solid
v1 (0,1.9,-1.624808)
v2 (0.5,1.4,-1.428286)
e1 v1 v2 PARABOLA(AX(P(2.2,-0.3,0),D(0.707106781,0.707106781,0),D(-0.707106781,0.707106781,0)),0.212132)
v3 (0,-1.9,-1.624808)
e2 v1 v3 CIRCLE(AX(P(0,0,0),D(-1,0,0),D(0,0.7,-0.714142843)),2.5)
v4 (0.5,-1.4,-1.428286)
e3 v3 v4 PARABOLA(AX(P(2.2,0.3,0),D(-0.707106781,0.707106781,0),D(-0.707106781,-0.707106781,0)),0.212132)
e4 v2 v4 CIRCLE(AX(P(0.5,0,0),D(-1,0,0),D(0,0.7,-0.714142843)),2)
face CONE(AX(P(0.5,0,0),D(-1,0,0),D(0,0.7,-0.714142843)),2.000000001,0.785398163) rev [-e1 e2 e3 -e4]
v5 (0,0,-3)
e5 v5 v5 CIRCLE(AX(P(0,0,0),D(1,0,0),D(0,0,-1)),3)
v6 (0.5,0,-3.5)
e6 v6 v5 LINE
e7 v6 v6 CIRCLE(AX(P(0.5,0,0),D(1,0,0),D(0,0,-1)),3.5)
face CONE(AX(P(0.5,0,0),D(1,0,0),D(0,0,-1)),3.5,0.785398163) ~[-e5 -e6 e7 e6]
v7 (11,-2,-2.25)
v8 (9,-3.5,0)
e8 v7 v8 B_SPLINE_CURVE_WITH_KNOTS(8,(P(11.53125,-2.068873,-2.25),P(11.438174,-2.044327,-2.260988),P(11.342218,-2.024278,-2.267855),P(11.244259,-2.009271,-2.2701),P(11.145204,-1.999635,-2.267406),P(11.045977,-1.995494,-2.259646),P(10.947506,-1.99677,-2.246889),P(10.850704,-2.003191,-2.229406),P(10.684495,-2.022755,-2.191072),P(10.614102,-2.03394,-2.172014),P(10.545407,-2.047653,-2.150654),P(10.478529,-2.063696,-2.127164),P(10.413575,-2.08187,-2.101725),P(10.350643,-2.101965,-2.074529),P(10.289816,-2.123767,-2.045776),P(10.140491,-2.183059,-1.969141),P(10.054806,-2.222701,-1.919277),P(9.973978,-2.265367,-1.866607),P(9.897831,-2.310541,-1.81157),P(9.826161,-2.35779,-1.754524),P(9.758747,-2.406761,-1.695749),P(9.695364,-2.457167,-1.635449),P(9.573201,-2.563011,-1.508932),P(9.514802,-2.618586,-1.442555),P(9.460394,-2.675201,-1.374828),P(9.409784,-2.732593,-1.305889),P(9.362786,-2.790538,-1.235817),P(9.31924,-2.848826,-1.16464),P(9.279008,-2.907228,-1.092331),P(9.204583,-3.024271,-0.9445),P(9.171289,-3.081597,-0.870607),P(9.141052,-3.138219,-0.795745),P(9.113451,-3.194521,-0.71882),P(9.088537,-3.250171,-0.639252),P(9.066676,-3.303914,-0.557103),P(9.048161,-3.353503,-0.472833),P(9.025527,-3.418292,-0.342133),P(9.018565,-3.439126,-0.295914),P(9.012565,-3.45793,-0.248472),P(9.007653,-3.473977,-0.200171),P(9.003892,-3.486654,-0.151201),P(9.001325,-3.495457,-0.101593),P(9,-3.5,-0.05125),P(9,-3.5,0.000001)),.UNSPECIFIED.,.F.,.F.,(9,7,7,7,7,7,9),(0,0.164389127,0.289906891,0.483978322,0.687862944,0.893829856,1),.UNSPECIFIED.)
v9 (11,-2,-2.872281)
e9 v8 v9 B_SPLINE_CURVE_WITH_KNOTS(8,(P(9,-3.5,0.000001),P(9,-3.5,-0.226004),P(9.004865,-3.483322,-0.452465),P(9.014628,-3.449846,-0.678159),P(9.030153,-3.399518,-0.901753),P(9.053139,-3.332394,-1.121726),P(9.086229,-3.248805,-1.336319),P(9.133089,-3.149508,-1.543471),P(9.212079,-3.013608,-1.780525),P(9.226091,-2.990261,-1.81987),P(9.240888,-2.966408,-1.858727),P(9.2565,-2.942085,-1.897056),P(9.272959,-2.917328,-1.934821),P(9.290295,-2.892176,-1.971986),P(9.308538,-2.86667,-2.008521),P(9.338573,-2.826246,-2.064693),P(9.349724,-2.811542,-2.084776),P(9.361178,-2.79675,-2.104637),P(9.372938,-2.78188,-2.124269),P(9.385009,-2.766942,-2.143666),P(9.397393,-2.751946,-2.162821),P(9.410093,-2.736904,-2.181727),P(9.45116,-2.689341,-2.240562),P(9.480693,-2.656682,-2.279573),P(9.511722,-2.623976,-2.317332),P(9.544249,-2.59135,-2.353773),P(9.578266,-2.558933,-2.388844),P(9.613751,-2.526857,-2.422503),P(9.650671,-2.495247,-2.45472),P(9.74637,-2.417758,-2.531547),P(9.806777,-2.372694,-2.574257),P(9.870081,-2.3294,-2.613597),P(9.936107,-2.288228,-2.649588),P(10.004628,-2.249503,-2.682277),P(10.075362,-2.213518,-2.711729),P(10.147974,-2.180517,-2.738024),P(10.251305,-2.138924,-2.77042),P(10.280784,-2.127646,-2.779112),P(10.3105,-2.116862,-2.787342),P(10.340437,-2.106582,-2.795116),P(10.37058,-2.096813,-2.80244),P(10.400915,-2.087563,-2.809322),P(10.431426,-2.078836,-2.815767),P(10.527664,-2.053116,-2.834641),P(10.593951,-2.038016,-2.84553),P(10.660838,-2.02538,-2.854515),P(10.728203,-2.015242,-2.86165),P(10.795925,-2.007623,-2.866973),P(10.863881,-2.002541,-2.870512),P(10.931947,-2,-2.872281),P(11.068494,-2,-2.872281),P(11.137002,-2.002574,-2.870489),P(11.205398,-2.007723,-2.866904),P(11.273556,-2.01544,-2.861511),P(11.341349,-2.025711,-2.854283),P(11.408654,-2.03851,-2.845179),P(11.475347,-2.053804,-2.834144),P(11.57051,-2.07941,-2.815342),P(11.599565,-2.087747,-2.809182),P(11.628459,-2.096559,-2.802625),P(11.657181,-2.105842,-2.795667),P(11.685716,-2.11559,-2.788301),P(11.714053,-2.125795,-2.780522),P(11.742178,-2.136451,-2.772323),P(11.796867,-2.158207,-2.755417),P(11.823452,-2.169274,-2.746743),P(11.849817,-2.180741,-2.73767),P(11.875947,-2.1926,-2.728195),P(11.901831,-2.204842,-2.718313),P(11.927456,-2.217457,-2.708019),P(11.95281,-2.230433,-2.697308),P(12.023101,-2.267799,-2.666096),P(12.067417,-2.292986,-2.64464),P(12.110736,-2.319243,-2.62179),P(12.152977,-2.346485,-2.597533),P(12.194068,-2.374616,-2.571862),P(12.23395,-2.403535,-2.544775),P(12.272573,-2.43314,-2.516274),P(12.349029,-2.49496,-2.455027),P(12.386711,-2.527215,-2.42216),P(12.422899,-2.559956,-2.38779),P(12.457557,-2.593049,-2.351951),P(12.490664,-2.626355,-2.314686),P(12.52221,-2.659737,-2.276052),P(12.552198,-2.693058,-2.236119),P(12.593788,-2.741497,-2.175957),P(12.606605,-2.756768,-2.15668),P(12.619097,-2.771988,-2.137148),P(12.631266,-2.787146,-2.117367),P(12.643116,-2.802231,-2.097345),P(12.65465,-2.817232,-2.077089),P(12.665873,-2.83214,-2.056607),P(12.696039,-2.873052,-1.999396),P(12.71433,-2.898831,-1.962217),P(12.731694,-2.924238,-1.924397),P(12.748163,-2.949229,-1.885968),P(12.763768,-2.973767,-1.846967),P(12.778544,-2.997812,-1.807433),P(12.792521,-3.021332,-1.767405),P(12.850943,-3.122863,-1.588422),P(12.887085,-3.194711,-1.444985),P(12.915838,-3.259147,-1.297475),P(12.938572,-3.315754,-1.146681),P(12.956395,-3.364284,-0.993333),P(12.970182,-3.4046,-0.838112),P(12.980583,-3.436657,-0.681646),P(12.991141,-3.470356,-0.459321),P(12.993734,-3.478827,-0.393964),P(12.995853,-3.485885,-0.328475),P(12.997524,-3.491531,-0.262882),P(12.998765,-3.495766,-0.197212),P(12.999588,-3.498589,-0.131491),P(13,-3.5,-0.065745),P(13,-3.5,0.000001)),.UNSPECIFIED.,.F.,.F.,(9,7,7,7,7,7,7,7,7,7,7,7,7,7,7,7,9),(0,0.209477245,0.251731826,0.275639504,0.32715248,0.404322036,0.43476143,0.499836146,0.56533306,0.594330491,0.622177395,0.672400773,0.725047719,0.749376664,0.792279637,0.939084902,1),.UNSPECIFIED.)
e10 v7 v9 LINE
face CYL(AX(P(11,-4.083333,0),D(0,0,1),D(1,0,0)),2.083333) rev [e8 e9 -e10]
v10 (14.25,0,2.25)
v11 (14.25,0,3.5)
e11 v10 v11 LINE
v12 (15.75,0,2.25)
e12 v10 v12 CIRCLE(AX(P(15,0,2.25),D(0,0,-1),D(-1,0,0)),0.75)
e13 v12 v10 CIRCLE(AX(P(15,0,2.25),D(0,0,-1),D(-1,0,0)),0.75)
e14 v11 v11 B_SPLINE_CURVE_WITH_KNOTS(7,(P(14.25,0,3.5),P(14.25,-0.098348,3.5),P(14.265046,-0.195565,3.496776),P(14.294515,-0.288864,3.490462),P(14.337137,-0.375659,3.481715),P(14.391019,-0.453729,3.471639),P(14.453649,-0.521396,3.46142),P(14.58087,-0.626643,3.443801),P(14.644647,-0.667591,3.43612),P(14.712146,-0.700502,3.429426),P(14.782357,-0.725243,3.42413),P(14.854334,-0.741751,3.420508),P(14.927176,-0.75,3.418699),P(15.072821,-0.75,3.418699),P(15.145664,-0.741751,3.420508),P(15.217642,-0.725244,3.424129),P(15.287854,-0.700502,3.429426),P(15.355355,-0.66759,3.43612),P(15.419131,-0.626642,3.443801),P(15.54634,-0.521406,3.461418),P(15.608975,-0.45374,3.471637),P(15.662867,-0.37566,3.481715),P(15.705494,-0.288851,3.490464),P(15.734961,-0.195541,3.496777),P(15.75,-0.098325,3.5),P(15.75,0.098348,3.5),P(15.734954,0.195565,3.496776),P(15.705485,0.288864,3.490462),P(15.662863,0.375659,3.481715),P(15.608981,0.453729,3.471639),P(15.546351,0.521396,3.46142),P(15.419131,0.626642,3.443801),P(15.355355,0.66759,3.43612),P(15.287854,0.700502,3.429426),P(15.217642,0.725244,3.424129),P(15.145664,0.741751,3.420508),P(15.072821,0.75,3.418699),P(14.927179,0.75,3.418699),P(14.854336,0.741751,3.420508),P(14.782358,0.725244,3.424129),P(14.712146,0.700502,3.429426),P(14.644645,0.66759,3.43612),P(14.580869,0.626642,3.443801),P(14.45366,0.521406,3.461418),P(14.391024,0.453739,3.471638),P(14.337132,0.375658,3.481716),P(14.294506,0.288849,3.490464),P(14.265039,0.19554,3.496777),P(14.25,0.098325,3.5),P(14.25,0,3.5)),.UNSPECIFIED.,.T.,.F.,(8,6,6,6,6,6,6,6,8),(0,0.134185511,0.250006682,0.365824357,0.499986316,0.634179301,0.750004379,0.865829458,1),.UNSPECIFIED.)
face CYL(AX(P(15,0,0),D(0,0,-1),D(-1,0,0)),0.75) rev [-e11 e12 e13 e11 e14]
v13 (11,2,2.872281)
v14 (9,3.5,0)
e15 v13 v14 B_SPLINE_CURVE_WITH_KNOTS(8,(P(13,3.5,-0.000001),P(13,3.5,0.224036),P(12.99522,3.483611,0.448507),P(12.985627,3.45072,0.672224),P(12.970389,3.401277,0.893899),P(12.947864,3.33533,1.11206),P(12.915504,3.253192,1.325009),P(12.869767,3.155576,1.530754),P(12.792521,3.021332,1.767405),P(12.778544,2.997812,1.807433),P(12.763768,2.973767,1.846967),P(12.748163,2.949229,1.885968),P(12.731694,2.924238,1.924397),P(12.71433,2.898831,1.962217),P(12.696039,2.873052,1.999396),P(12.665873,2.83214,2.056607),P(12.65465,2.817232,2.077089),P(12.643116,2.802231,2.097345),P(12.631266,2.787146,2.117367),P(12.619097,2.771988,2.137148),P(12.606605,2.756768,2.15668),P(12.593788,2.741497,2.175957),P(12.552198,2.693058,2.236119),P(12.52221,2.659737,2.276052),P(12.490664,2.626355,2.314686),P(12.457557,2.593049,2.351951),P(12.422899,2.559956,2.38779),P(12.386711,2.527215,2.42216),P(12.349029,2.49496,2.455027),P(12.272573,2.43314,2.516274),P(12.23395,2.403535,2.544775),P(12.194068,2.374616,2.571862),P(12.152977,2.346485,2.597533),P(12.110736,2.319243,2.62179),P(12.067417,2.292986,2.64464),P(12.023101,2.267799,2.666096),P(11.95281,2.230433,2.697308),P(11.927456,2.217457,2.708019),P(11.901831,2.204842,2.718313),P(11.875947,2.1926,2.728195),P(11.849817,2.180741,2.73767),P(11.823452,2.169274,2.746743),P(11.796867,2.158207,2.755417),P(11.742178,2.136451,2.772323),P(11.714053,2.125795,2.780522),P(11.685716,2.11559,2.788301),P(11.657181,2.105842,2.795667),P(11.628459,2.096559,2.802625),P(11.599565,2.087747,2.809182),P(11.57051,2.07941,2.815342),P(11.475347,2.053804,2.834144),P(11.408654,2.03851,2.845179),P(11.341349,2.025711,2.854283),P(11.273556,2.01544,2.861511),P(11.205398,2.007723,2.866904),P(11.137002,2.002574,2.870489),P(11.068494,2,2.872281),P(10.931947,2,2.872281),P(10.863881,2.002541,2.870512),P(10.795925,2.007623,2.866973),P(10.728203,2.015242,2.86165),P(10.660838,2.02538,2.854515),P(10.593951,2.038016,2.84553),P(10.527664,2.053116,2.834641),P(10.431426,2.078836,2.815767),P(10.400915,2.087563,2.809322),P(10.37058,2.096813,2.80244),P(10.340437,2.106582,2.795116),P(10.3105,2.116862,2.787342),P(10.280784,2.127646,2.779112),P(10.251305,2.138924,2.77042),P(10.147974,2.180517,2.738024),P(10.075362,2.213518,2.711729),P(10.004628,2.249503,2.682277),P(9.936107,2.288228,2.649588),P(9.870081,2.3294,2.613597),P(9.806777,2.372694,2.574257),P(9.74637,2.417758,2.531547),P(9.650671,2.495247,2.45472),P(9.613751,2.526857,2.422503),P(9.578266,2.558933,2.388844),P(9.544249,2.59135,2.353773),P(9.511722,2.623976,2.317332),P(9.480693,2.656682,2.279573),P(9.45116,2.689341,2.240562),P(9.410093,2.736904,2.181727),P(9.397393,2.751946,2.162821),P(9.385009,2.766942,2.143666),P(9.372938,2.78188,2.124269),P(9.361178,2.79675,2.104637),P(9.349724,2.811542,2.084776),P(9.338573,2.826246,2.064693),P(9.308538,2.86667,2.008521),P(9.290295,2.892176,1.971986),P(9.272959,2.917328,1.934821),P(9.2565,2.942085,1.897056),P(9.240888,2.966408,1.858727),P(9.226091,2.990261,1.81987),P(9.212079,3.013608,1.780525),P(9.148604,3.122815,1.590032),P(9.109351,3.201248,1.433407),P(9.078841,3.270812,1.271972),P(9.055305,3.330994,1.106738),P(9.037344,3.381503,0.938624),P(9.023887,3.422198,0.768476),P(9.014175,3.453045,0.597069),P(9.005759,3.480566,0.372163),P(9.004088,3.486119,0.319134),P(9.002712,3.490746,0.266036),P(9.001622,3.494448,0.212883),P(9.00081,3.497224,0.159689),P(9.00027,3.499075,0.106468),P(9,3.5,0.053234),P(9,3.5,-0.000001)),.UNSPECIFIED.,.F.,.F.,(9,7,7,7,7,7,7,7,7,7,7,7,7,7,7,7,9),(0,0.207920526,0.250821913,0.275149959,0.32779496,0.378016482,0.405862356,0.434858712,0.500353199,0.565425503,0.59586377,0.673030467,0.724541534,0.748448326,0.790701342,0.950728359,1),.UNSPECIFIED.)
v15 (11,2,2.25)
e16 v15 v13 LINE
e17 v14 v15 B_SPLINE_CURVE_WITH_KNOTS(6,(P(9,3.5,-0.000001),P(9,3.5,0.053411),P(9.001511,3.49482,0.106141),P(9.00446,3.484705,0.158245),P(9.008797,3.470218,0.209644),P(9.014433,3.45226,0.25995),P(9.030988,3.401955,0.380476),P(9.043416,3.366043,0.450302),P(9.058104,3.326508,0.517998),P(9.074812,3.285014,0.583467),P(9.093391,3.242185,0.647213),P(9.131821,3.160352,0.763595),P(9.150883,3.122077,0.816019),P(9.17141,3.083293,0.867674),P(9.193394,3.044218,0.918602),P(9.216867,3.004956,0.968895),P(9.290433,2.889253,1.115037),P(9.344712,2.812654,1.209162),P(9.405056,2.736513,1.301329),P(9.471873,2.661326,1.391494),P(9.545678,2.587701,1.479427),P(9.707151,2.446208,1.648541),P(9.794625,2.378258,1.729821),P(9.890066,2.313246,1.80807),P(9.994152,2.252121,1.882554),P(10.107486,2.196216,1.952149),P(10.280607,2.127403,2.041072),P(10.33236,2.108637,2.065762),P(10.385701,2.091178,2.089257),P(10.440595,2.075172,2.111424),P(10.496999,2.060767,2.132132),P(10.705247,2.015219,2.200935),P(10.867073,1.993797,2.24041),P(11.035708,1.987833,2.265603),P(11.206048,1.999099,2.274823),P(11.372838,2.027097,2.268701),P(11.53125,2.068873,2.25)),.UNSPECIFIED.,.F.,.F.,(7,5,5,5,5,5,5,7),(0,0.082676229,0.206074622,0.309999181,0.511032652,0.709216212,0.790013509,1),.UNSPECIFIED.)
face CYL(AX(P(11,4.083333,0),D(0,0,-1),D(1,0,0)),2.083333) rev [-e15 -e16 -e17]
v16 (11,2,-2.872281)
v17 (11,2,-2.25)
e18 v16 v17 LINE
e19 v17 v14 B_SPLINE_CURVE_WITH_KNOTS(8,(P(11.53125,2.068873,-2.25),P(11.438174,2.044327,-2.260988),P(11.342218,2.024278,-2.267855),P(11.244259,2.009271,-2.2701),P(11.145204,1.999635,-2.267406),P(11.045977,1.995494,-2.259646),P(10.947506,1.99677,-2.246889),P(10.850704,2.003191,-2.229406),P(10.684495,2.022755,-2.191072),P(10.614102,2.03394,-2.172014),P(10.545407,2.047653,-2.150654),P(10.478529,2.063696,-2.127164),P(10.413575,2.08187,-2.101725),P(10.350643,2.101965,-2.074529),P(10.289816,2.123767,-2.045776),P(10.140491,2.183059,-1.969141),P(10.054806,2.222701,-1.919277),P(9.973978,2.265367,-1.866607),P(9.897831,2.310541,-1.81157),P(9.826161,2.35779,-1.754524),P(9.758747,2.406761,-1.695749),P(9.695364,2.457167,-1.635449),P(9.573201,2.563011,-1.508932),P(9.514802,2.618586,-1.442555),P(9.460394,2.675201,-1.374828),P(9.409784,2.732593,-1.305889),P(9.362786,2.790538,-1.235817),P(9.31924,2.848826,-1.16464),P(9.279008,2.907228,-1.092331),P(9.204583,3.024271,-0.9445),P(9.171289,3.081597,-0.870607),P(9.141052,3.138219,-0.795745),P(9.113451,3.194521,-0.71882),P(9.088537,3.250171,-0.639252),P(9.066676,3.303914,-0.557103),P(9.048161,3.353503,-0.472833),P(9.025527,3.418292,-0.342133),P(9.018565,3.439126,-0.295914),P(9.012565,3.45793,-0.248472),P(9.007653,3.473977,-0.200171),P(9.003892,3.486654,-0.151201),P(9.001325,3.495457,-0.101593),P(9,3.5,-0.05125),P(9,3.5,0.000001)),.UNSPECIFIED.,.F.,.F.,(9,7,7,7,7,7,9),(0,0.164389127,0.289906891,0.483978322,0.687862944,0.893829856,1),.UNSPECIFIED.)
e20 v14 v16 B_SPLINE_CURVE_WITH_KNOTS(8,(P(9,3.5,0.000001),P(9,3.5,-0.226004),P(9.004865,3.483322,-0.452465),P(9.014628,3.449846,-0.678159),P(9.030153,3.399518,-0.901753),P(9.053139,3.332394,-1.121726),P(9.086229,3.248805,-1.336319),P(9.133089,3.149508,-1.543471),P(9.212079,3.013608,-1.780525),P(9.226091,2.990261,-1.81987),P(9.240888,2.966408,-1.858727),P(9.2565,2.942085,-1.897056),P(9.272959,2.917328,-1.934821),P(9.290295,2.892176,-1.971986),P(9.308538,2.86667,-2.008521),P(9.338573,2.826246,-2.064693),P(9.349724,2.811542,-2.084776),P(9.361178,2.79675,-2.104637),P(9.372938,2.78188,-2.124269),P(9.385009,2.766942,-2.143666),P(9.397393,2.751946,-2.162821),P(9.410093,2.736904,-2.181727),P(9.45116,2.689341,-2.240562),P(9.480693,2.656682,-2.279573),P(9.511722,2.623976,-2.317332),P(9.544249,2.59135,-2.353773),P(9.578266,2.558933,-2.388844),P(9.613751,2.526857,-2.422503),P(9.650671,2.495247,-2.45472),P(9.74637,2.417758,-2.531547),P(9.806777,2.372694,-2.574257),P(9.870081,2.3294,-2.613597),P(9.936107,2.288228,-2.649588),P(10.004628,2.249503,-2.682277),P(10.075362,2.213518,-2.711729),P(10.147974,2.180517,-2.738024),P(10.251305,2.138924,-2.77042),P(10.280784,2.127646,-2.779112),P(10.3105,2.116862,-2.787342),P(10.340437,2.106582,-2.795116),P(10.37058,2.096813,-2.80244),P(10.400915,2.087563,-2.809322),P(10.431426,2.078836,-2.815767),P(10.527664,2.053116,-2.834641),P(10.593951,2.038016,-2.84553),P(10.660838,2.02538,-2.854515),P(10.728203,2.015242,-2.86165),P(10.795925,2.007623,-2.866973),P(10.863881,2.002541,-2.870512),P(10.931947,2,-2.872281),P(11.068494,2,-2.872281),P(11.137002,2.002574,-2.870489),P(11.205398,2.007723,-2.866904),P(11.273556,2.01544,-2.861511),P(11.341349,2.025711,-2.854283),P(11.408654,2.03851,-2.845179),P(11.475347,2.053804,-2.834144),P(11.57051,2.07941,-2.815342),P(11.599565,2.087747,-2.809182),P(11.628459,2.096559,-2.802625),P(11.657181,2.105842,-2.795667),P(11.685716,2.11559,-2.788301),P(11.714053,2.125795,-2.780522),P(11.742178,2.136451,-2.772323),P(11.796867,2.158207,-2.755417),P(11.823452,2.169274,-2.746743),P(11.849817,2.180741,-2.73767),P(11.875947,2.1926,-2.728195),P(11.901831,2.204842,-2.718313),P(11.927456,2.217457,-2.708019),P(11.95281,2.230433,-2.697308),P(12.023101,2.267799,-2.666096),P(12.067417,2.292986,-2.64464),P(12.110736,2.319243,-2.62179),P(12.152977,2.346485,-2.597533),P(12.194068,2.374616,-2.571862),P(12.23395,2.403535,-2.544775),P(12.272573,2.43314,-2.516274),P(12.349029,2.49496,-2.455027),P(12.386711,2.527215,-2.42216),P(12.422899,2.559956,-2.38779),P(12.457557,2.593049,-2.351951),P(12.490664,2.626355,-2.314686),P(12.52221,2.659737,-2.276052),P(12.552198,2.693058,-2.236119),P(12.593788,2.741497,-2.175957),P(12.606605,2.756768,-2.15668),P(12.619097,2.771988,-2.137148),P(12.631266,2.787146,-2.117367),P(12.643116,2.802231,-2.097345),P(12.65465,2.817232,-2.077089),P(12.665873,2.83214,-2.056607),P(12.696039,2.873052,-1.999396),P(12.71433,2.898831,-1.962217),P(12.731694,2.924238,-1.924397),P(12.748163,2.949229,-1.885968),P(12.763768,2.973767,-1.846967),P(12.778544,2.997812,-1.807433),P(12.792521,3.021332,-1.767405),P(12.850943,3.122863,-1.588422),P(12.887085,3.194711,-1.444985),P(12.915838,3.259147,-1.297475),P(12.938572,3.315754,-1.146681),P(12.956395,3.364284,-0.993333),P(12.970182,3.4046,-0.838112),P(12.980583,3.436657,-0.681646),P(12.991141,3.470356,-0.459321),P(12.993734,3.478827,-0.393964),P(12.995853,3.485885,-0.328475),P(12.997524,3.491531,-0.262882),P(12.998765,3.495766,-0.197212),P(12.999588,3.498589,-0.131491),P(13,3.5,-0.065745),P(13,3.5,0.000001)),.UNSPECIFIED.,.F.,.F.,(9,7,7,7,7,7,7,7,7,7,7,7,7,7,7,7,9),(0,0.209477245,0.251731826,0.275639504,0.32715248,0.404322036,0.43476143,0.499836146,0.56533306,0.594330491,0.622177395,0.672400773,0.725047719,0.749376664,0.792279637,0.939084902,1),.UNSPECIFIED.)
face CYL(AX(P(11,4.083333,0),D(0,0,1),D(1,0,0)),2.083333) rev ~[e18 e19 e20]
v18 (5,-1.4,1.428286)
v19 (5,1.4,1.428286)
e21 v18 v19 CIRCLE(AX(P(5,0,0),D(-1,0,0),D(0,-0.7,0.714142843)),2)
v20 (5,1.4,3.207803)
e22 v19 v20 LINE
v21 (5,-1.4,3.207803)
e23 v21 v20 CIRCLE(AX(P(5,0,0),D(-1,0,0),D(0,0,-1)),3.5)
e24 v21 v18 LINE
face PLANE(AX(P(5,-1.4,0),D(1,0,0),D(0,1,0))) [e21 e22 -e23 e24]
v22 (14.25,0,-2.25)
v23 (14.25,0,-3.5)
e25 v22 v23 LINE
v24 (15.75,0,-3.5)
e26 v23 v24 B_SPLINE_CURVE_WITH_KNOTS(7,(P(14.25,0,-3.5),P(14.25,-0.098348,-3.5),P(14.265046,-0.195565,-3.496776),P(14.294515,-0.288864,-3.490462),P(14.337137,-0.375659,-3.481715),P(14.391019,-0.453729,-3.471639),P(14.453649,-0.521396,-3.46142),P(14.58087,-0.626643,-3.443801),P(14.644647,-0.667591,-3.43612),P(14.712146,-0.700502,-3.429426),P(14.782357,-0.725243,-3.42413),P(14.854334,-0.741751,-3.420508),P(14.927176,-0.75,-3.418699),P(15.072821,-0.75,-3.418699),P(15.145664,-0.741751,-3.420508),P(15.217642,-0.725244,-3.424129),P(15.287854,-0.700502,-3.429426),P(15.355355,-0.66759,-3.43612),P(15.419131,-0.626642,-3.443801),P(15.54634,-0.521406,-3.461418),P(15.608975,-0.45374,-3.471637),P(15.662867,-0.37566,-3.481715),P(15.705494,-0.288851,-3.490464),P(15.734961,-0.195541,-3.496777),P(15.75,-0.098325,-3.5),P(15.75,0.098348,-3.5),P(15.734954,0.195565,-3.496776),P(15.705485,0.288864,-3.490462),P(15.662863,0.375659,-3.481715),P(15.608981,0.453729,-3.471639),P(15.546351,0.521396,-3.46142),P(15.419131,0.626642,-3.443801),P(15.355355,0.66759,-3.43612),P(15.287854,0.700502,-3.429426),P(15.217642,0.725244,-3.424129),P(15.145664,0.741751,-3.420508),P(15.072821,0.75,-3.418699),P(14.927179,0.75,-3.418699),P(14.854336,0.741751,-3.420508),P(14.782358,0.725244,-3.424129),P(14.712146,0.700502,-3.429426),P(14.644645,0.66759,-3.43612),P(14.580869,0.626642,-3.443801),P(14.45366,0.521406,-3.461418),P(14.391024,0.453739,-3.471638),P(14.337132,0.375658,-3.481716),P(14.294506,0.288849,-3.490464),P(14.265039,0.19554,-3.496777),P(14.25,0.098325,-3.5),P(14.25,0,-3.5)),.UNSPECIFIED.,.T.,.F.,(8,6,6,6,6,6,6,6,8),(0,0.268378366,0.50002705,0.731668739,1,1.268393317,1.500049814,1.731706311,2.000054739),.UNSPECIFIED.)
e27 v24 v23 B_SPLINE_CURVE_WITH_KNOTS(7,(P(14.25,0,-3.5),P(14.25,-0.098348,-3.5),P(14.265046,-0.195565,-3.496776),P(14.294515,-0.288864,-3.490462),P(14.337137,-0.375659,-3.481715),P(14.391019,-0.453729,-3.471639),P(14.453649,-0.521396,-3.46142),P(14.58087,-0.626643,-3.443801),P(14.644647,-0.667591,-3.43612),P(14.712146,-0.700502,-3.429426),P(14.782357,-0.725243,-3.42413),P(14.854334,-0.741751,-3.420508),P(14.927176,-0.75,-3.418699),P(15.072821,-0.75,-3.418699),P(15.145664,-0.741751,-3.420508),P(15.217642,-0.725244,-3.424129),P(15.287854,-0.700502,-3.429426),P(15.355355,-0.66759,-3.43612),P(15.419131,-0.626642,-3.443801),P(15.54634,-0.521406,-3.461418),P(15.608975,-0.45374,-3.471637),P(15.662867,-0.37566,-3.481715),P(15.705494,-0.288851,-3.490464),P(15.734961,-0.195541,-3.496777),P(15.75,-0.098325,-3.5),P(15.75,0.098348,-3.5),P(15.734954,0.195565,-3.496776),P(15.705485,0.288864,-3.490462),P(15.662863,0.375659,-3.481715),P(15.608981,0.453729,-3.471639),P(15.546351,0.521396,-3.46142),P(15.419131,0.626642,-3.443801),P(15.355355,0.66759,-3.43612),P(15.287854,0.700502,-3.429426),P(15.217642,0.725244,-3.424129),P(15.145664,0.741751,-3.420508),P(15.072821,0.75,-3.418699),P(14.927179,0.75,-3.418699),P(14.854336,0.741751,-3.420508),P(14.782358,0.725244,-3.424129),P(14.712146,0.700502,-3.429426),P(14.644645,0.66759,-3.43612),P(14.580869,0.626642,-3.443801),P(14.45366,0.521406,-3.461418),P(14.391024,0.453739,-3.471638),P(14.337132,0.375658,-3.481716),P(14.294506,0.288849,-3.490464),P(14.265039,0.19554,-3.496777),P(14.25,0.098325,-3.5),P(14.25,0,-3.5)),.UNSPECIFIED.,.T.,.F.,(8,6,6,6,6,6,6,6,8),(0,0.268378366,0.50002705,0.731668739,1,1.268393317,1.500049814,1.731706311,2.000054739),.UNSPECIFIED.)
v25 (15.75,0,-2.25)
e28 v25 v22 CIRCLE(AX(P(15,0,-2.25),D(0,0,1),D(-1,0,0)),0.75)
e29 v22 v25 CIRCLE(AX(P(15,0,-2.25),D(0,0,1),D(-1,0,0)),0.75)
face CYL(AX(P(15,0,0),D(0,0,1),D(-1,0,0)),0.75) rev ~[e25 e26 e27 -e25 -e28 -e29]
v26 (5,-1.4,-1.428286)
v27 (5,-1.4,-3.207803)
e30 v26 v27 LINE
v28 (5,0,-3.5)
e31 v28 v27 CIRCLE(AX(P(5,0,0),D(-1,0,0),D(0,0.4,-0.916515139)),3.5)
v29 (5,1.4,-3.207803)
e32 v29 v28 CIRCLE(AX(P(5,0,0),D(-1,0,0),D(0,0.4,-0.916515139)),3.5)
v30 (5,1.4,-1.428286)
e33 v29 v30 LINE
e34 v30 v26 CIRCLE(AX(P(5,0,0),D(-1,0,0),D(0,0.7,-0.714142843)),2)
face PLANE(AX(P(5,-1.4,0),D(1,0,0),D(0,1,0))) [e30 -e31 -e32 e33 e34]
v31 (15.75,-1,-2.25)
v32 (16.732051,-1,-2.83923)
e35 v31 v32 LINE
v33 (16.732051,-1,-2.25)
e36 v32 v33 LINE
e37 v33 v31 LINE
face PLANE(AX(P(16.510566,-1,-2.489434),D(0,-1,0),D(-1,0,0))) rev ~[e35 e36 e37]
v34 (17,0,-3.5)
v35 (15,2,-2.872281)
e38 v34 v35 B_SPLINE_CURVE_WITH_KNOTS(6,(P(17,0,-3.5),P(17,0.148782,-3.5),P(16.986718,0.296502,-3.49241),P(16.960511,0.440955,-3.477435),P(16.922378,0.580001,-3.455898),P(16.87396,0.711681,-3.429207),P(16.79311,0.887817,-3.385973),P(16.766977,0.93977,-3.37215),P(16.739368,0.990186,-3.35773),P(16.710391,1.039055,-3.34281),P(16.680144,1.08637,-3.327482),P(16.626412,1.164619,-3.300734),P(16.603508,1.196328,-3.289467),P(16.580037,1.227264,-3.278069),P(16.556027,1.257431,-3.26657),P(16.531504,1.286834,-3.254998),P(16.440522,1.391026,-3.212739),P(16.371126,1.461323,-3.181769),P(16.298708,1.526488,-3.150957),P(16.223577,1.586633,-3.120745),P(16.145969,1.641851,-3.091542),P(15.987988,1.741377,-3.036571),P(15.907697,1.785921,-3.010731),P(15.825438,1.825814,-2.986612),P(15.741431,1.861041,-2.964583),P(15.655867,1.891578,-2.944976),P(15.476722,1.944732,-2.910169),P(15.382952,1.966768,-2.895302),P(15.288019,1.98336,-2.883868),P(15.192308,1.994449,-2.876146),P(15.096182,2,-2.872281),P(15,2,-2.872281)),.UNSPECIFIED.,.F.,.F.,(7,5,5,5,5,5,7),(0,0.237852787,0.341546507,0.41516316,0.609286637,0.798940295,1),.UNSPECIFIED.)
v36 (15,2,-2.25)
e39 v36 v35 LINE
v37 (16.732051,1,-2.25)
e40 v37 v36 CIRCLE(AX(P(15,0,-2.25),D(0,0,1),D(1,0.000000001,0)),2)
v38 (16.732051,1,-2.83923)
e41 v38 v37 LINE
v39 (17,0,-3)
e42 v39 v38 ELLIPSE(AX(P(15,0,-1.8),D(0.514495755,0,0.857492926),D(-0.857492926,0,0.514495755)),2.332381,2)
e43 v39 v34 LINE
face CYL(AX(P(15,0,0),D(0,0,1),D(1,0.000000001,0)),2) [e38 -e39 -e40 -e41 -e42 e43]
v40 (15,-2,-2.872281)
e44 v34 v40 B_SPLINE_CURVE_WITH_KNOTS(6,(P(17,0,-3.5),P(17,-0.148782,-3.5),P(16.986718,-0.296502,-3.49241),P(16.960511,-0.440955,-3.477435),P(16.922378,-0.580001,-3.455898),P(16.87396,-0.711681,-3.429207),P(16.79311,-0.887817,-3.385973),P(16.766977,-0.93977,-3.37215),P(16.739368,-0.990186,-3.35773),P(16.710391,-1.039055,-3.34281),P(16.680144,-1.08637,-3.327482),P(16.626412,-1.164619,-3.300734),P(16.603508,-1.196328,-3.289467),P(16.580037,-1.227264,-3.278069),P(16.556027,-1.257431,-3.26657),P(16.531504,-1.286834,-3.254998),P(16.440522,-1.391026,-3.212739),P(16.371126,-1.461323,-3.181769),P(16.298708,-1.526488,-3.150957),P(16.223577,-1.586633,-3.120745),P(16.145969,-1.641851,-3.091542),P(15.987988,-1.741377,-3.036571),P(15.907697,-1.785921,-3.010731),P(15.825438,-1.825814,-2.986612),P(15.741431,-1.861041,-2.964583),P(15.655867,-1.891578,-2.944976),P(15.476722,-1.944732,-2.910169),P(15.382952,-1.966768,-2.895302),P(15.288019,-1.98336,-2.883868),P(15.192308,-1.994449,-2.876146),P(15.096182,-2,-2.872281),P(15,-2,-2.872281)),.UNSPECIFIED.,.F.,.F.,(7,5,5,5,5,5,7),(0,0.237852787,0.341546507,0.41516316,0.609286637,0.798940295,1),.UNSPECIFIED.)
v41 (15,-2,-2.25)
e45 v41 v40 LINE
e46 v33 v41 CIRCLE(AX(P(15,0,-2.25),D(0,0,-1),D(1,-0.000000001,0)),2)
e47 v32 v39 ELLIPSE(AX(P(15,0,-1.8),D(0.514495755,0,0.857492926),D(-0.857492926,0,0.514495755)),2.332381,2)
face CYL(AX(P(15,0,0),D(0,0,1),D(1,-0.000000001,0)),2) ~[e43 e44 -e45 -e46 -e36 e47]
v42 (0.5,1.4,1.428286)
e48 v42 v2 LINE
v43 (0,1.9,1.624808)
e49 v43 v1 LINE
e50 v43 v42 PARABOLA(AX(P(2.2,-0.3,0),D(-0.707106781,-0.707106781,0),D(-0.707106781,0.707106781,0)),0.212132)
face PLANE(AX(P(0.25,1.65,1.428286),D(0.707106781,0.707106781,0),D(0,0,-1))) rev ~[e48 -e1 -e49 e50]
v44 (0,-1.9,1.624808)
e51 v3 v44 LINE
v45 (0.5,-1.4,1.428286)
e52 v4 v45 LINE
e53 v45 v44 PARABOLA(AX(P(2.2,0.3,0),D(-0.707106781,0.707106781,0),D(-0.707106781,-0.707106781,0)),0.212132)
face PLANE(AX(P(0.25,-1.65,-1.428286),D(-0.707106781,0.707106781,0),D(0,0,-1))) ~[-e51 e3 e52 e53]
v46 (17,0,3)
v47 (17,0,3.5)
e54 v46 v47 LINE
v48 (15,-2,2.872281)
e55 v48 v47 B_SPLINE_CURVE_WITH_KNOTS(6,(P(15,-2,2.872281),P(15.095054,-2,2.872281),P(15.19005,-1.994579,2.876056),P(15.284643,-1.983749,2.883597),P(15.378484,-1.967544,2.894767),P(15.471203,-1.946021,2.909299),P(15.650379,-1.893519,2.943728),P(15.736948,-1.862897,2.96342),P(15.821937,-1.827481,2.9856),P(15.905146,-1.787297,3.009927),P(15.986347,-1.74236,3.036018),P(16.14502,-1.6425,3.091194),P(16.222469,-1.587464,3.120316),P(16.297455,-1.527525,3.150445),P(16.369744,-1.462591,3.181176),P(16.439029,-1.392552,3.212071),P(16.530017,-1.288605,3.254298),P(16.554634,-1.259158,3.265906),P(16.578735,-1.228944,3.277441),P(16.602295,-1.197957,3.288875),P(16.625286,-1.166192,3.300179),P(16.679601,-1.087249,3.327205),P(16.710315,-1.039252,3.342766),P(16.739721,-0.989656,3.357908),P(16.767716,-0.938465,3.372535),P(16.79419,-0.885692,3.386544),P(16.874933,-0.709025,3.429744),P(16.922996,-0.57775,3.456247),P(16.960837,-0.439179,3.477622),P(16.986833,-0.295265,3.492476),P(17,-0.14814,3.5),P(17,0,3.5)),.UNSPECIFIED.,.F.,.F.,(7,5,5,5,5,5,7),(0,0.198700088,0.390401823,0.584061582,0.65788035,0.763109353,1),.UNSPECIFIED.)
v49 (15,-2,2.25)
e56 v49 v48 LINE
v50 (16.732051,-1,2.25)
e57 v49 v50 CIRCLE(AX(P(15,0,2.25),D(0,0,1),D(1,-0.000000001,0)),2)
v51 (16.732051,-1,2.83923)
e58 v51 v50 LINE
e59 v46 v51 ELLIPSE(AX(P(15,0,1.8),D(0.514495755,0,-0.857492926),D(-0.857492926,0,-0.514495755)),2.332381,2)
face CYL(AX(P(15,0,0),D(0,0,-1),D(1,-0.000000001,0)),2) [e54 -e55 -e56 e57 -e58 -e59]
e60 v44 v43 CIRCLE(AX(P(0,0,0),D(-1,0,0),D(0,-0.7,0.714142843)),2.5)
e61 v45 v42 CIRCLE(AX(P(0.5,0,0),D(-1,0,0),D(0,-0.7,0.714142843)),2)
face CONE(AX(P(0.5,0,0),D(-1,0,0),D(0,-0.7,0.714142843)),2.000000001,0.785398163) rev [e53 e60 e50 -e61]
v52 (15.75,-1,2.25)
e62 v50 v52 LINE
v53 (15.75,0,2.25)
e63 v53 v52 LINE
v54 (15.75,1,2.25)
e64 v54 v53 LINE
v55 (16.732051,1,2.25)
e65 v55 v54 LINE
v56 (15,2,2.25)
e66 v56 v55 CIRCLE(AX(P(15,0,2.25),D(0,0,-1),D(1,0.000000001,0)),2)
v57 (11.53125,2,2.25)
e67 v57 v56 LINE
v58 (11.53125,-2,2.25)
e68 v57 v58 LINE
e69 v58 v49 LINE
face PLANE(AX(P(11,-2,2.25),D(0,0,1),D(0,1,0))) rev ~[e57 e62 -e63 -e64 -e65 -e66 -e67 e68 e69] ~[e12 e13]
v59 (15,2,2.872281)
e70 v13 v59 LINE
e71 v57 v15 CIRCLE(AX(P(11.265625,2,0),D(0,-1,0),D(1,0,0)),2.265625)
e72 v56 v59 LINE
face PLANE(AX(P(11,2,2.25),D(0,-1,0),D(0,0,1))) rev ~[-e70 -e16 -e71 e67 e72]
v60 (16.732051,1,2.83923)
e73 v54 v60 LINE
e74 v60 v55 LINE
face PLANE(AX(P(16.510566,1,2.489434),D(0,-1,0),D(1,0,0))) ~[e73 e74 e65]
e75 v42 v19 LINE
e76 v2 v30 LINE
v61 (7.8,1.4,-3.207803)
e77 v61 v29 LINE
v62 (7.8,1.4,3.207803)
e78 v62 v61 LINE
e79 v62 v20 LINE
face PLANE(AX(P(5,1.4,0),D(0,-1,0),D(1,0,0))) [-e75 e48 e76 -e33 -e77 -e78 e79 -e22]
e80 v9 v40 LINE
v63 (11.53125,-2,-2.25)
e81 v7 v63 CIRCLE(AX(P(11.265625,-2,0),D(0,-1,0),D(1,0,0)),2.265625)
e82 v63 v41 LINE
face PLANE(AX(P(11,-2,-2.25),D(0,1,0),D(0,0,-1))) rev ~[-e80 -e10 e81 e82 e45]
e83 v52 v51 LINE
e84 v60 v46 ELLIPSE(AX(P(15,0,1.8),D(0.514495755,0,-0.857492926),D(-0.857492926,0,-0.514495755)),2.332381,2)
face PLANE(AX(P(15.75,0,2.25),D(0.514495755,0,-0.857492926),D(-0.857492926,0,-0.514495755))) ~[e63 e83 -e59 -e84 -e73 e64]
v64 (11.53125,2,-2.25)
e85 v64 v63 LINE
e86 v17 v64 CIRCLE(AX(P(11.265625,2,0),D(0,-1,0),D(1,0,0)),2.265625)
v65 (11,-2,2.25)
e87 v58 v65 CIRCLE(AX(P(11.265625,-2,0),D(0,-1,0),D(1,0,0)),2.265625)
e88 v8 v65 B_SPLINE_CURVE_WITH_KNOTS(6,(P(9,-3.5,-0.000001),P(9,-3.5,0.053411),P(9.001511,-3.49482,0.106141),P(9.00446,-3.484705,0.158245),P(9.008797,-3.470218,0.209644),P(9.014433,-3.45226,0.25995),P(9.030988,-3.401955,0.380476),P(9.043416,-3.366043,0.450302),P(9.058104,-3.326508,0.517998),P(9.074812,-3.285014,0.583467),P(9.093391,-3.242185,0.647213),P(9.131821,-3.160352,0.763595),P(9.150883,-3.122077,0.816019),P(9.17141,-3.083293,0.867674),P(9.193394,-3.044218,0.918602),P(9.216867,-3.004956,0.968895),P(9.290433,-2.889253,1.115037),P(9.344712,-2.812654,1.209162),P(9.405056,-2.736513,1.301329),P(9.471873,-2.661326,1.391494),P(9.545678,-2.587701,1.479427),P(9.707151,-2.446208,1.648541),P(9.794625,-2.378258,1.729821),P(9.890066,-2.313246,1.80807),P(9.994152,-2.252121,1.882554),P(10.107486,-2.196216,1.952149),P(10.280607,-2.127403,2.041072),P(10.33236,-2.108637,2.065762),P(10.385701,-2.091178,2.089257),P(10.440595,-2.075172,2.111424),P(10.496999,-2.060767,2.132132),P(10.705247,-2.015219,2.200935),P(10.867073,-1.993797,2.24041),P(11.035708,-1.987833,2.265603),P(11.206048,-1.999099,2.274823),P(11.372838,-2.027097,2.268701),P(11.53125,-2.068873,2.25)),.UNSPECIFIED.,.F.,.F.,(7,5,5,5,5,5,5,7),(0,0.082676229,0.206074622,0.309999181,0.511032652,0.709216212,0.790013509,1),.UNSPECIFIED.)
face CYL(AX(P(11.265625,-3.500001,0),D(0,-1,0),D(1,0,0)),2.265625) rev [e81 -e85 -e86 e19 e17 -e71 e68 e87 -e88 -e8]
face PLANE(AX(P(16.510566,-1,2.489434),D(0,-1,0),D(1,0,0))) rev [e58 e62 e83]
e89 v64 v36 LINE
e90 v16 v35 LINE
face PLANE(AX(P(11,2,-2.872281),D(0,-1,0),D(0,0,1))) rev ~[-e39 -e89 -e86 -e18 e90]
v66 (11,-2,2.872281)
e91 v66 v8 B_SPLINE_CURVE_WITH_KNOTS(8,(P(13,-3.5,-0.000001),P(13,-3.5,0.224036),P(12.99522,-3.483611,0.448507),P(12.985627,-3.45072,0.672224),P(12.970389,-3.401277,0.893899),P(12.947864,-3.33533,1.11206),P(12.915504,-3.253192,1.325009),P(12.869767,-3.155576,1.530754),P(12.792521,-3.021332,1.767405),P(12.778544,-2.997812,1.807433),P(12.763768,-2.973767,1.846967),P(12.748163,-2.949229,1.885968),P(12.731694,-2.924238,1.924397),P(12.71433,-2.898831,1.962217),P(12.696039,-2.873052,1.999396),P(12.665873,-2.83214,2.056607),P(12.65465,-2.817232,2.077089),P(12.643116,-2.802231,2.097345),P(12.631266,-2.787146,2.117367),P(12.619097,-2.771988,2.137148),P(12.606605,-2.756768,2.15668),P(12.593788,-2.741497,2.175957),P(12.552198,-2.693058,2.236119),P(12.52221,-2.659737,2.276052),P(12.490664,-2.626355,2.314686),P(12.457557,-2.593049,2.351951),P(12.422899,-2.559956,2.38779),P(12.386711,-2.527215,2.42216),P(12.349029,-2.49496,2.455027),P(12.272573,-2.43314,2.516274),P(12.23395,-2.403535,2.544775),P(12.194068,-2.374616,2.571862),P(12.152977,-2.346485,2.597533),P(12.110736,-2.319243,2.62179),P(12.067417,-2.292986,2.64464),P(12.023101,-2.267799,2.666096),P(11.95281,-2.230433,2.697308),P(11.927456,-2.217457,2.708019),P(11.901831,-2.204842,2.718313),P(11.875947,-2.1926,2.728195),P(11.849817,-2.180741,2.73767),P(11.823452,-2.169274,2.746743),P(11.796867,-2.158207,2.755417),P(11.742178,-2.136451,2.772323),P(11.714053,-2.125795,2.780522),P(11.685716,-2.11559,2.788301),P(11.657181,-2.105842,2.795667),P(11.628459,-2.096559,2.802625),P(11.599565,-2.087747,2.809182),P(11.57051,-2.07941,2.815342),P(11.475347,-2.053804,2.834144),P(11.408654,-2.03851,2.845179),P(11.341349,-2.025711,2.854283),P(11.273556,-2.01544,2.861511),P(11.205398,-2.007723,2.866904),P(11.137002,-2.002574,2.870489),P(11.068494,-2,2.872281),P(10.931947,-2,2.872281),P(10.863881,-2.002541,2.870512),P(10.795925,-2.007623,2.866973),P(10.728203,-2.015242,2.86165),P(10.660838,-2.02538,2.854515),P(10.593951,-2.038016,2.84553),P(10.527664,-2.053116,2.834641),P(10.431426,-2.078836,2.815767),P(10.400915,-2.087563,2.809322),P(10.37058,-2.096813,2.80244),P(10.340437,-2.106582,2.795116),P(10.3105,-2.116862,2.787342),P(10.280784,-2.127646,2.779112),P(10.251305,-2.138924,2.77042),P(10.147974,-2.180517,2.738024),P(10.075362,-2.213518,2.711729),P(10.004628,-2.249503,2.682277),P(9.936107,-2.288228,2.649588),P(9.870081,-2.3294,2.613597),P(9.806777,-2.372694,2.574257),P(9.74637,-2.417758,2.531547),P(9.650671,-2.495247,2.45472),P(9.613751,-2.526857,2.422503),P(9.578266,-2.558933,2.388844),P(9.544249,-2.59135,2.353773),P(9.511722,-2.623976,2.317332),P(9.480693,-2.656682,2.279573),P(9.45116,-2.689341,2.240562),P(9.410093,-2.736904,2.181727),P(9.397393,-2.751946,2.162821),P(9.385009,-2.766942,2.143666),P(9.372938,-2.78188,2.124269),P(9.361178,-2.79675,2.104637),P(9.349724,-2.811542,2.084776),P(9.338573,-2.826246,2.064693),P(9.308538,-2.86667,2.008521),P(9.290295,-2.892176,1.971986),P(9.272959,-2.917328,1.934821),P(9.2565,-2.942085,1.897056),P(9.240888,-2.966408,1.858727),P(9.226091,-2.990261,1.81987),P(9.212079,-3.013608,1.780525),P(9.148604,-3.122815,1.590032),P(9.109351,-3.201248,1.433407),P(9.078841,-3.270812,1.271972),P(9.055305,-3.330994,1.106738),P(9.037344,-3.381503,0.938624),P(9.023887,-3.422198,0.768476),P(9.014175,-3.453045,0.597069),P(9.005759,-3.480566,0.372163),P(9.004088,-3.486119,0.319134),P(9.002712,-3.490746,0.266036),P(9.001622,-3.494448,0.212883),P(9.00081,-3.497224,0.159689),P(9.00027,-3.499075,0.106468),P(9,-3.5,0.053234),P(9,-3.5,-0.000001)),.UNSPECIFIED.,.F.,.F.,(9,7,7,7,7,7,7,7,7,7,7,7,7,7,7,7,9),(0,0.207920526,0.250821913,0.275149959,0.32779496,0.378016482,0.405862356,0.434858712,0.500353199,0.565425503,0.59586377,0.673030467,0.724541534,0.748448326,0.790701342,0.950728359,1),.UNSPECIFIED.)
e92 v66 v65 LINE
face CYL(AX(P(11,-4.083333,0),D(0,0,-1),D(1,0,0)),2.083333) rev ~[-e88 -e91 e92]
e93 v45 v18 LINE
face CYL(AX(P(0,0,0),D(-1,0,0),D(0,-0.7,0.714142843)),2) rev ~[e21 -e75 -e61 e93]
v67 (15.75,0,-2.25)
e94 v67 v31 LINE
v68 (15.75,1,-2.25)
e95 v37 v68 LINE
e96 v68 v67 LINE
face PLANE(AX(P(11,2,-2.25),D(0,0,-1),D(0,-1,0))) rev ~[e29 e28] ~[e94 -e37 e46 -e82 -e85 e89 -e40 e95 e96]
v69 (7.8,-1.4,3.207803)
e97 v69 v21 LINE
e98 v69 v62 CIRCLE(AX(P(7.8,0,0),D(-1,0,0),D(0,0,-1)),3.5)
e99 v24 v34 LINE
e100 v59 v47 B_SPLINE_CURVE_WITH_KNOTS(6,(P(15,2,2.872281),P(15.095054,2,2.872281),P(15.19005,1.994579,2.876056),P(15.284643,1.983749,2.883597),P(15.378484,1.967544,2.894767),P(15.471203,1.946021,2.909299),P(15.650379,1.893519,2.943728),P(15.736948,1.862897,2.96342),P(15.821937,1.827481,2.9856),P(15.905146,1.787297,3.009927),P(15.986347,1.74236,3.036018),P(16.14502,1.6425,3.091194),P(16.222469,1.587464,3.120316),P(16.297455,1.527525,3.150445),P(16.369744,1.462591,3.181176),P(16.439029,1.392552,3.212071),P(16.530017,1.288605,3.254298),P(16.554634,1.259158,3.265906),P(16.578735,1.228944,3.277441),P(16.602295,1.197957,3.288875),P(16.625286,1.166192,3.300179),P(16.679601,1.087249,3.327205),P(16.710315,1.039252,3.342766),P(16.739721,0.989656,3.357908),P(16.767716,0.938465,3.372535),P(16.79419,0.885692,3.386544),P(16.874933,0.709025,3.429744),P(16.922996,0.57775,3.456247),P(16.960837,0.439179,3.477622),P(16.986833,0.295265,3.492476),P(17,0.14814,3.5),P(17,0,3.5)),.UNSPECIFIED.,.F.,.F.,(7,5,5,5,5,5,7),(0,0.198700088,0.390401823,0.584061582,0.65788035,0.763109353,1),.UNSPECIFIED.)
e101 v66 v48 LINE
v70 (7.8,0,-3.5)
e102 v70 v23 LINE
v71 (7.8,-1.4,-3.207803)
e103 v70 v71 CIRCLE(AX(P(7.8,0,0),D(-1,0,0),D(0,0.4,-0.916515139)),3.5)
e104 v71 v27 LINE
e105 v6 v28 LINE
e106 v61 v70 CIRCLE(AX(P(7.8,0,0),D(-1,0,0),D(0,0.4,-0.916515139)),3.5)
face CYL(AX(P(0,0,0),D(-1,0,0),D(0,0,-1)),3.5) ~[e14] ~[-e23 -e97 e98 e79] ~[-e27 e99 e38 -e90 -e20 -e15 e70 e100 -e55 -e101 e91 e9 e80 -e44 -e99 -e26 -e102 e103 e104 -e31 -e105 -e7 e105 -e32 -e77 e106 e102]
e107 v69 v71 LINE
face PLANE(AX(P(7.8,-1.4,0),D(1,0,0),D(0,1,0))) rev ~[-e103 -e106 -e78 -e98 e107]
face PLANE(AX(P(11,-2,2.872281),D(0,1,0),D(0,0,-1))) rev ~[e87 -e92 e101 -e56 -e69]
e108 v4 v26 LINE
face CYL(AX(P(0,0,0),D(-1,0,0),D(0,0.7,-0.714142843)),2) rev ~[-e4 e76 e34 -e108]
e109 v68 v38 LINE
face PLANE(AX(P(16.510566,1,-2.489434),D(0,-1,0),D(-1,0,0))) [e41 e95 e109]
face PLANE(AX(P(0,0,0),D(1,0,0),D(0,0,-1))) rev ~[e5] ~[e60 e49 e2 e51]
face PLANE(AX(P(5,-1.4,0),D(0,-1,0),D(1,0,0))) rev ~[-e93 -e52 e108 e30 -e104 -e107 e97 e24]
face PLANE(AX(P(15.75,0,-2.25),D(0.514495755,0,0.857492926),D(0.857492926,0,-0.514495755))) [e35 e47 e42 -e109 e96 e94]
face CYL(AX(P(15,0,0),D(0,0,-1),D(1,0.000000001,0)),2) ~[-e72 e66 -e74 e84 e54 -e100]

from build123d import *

# Parameters (mm, degrees)
SKETCH_1_R                           = 3.5
EXTRUDE_1_DEPTH                      = 17
CUT_EXTRUDE_START                    = -6
CUT_EXTRUDE_2_DEPTH                  = 6
CUT_EXTRUDE_3_REACH                  = 19.706
CUT_EXTRUDE_3_DIRECTION_2_REACH      = 19.706
CUT_EXTRUDE_4_REACH                  = 19.706
SKETCH_4_R                           = 0.75
CUT_EXTRUDE_4_DIRECTION_2_REACH      = 19.706
CUT_EXTRUDE_START_2                  = -3.500001
SKETCH_5_R                           = 2.265625
CUT_EXTRUDE_5_DEPTH                  = 7.000001
CUT_EXTRUDE_6_REACH                  = 19.706
SKETCH_6_R                           = 2.083333333
CUT_EXTRUDE_6_DIRECTION_2_REACH      = 19.706
CUT_EXTRUDE_7_REACH                  = 19.706
CUT_EXTRUDE_7_END_RADIUS             = 3.5
SKETCH_7_W                           = 2.8
SKETCH_7_H                           = 2.8
CUT_EXTRUDE_7_DIRECTION_2_REACH      = 19.706
CUT_EXTRUDE_7_DIRECTION_2_END_RADIUS = 3.5
CUT_EXTRUDE_8_REACH                  = 19.706
CHAMFER_1_SIZE                       = 0.5
CUT_EXTRUDE_9_DEPTH                  = 1


with BuildPart() as part:
    # 草图1 → 凸台-拉伸1 (new body)
    with BuildSketch(Plane(origin=(0, 0, 0), x_dir=(0, 0, -1), z_dir=(1, 0, 0))):
        Circle(SKETCH_1_R)
    extrude(amount=EXTRUDE_1_DEPTH)

    # 草图2 → 切除-拉伸2 (cut)
    with BuildSketch(Plane(origin=(17, 0, 0), x_dir=(0, 0, -1), z_dir=(1, 0, 0)).offset(CUT_EXTRUDE_START)):
        with BuildLine():
            Line((-2.872281323, -2), (-2.25, -2))
            Line((-2.25, -2), (-2.25, 2))
            Line((-2.25, 2), (-2.872281323, 2))
            ThreePointArc((-2.872281323, 2), (0, 3.5), (2.872281323, 2))
            Line((2.872281323, 2), (2.25, 2))
            Line((2.25, 2), (2.25, -2))
            Line((2.25, -2), (2.872281323, -2))
            ThreePointArc((2.872281323, -2), (0, -3.5), (-2.872281323, -2))
        make_face()
    extrude(amount=CUT_EXTRUDE_2_DEPTH, mode=Mode.SUBTRACT)

    # 草图3 → 切除-拉伸3 (cut, up to next)
    with BuildSketch(Plane.XY, mode=Mode.PRIVATE) as cut_extrude_3_sk1:
        with BuildLine():
            Line((15, 2), (17, 2))
            Line((17, 2), (17, 0))
            ThreePointArc((17, 0), (16.414213562, 1.414213562), (15, 2))
        make_face()
    cut_extrude_3_tool1 = extrude(cut_extrude_3_sk1.sketch, amount=-CUT_EXTRUDE_3_REACH, mode=Mode.PRIVATE) & part.part
    cut_extrude_3 = cut_extrude_3_tool1.solids().sort_by_distance((16.553264, 1.553264, 0))[0]
    add(cut_extrude_3, mode=Mode.SUBTRACT)

    # 草图3 → 切除-拉伸3 direction 2 (cut, up to next)
    with BuildSketch(Plane.XY, mode=Mode.PRIVATE) as cut_extrude_3_direction_2_sk1:
        with BuildLine():
            Line((15, 2), (17, 2))
            Line((17, 2), (17, 0))
            ThreePointArc((17, 0), (16.414213562, 1.414213562), (15, 2))
        make_face()
    cut_extrude_3_direction_2_tool1 = extrude(cut_extrude_3_direction_2_sk1.sketch, amount=CUT_EXTRUDE_3_DIRECTION_2_REACH, mode=Mode.PRIVATE) & part.part
    cut_extrude_3_direction_2 = cut_extrude_3_direction_2_tool1.solids().sort_by_distance((16.553264, 1.553264, 0))[0]
    add(cut_extrude_3_direction_2, mode=Mode.SUBTRACT)

    # 镜向1: 切除-拉伸3, 切除-拉伸3 direction 2 across plane
    add(cut_extrude_3.mirror(Plane.ZX), mode=Mode.SUBTRACT)
    add(cut_extrude_3_direction_2.mirror(Plane.ZX), mode=Mode.SUBTRACT)

    # 草图4 → 切除-拉伸4 (cut, up to next)
    with BuildSketch(Plane.XY, mode=Mode.PRIVATE) as cut_extrude_4_sk1:
        with Locations(Location((15, 0, 0), (0, 0, 180))):
            Circle(SKETCH_4_R)
    cut_extrude_4_tool1 = extrude(cut_extrude_4_sk1.sketch, amount=-CUT_EXTRUDE_4_REACH, mode=Mode.PRIVATE) & part.part
    add(cut_extrude_4_tool1.solids().sort_by_distance((15, 0, 0))[0], mode=Mode.SUBTRACT)

    # 草图4 → 切除-拉伸4 direction 2 (cut, up to next)
    with BuildSketch(Plane.XY, mode=Mode.PRIVATE) as cut_extrude_4_direction_2_sk1:
        with Locations(Location((15, 0, 0), (0, 0, 180))):
            Circle(SKETCH_4_R)
    cut_extrude_4_direction_2_tool1 = extrude(cut_extrude_4_direction_2_sk1.sketch, amount=CUT_EXTRUDE_4_DIRECTION_2_REACH, mode=Mode.PRIVATE) & part.part
    add(cut_extrude_4_direction_2_tool1.solids().sort_by_distance((15, 0, 0))[0], mode=Mode.SUBTRACT)

    # 草图5 → 切除-拉伸5 (cut)
    with BuildSketch(Plane(origin=(0, 0, 0), x_dir=(1, 0, 0), z_dir=(0, 1, 0)).offset(CUT_EXTRUDE_START_2)):
        with Locations((11.265625, 0)):
            Circle(SKETCH_5_R)
    extrude(amount=CUT_EXTRUDE_5_DEPTH, mode=Mode.SUBTRACT)

    # 草图6 → 切除-拉伸6 (cut, up to next)
    with BuildSketch(Plane.XY, mode=Mode.PRIVATE) as cut_extrude_6_sk1:
        with Locations((11, 4.083333333)):
            Circle(SKETCH_6_R)
    cut_extrude_6_tool1 = extrude(cut_extrude_6_sk1.sketch, amount=-CUT_EXTRUDE_6_REACH, mode=Mode.PRIVATE) & part.part
    cut_extrude_6 = cut_extrude_6_tool1.solids().sort_by_distance((11, 4.083333, 0))[0]
    add(cut_extrude_6, mode=Mode.SUBTRACT)

    # 草图6 → 切除-拉伸6 direction 2 (cut, up to next)
    with BuildSketch(Plane.XY, mode=Mode.PRIVATE) as cut_extrude_6_direction_2_sk1:
        with Locations((11, 4.083333333)):
            Circle(SKETCH_6_R)
    cut_extrude_6_direction_2_tool1 = extrude(cut_extrude_6_direction_2_sk1.sketch, amount=CUT_EXTRUDE_6_DIRECTION_2_REACH, mode=Mode.PRIVATE) & part.part
    cut_extrude_6_direction_2 = cut_extrude_6_direction_2_tool1.solids().sort_by_distance((11, 4.083333, 0))[0]
    add(cut_extrude_6_direction_2, mode=Mode.SUBTRACT)

    # 镜向2: 切除-拉伸6, 切除-拉伸6 direction 2 across plane
    add(cut_extrude_6.mirror(Plane.ZX), mode=Mode.SUBTRACT)
    add(cut_extrude_6_direction_2.mirror(Plane.ZX), mode=Mode.SUBTRACT)

    # 切除-拉伸7: up to this cylinder (the profile starts inside it)
    cut_extrude_7_end = Plane(origin=(6.4, 0, 0), z_dir=(-1, 0, 0)) * Cylinder(CUT_EXTRUDE_7_END_RADIUS, 47.412, mode=Mode.PRIVATE)
    # 草图7 → 切除-拉伸7 (cut, up to the surface)
    with BuildSketch(Plane.XY, mode=Mode.PRIVATE) as cut_extrude_7_sk1:
        with Locations((6.4, 0)):
            Rectangle(SKETCH_7_W, SKETCH_7_H)
    cut_extrude_7_tool1 = extrude(cut_extrude_7_sk1.sketch, amount=-CUT_EXTRUDE_7_REACH, mode=Mode.PRIVATE) & cut_extrude_7_end
    add(cut_extrude_7_tool1.solids().sort_by_distance((6.4, 0, 0))[0], mode=Mode.SUBTRACT)

    # 切除-拉伸7 direction 2: up to this cylinder (the profile starts inside it)
    cut_extrude_7_direction_2_end = Plane(origin=(6.4, 0, 0), z_dir=(-1, 0, 0)) * Cylinder(CUT_EXTRUDE_7_DIRECTION_2_END_RADIUS, 47.412, mode=Mode.PRIVATE)
    # 草图7 → 切除-拉伸7 direction 2 (cut, up to the surface)
    with BuildSketch(Plane.XY, mode=Mode.PRIVATE) as cut_extrude_7_direction_2_sk1:
        with Locations((6.4, 0)):
            Rectangle(SKETCH_7_W, SKETCH_7_H)
    cut_extrude_7_direction_2_tool1 = extrude(cut_extrude_7_direction_2_sk1.sketch, amount=CUT_EXTRUDE_7_DIRECTION_2_REACH, mode=Mode.PRIVATE) & cut_extrude_7_direction_2_end
    add(cut_extrude_7_direction_2_tool1.solids().sort_by_distance((6.4, 0, 0))[0], mode=Mode.SUBTRACT)

    # 草图8 → 切除-拉伸8 (cut, up to next)
    with BuildSketch(Plane.ZY, mode=Mode.PRIVATE) as cut_extrude_8_sk1:
        with BuildLine():
            Line((-1.428285686, -1.4), (1.428285686, -1.4))
            ThreePointArc((1.428285686, -1.4), (2, 0), (1.428285686, 1.4))
            Line((1.428285686, 1.4), (-1.428285686, 1.4))
            ThreePointArc((-1.428285686, 1.4), (-2, 0), (-1.428285686, -1.4))
        make_face()
    cut_extrude_8_tool1 = extrude(cut_extrude_8_sk1.sketch, amount=-CUT_EXTRUDE_8_REACH, mode=Mode.PRIVATE) & part.part
    add(cut_extrude_8_tool1.solids().sort_by_distance((0, 0, 0))[0], mode=Mode.SUBTRACT)

    # 倒角1
    chamfer_1_edges = [part.edges().sort_by_distance(p)[0] for p in [
        (0, 0, -2),
        (0, -1.4, 0),
        (0, 0, 2),
        (0, 1.4, 0),
        (0, 0, 3.5),
    ]]
    chamfer(chamfer_1_edges, length=CHAMFER_1_SIZE)

    # 草图9 → 切除-拉伸9 (cut, symmetric)
    with BuildSketch(Plane(origin=(0, 0, 0), x_dir=(1, 0, 0), z_dir=(0, 1, 0))):
        Polygon((17, 2.25), (15.75, 2.25), (17, 3), align=None)
    cut_extrude_9 = extrude(amount=CUT_EXTRUDE_9_DEPTH, both=True, mode=Mode.SUBTRACT)

    # 镜向3: 切除-拉伸9 across plane
    add(cut_extrude_9.mirror(Plane.XY), mode=Mode.SUBTRACT)


solid = part.part
